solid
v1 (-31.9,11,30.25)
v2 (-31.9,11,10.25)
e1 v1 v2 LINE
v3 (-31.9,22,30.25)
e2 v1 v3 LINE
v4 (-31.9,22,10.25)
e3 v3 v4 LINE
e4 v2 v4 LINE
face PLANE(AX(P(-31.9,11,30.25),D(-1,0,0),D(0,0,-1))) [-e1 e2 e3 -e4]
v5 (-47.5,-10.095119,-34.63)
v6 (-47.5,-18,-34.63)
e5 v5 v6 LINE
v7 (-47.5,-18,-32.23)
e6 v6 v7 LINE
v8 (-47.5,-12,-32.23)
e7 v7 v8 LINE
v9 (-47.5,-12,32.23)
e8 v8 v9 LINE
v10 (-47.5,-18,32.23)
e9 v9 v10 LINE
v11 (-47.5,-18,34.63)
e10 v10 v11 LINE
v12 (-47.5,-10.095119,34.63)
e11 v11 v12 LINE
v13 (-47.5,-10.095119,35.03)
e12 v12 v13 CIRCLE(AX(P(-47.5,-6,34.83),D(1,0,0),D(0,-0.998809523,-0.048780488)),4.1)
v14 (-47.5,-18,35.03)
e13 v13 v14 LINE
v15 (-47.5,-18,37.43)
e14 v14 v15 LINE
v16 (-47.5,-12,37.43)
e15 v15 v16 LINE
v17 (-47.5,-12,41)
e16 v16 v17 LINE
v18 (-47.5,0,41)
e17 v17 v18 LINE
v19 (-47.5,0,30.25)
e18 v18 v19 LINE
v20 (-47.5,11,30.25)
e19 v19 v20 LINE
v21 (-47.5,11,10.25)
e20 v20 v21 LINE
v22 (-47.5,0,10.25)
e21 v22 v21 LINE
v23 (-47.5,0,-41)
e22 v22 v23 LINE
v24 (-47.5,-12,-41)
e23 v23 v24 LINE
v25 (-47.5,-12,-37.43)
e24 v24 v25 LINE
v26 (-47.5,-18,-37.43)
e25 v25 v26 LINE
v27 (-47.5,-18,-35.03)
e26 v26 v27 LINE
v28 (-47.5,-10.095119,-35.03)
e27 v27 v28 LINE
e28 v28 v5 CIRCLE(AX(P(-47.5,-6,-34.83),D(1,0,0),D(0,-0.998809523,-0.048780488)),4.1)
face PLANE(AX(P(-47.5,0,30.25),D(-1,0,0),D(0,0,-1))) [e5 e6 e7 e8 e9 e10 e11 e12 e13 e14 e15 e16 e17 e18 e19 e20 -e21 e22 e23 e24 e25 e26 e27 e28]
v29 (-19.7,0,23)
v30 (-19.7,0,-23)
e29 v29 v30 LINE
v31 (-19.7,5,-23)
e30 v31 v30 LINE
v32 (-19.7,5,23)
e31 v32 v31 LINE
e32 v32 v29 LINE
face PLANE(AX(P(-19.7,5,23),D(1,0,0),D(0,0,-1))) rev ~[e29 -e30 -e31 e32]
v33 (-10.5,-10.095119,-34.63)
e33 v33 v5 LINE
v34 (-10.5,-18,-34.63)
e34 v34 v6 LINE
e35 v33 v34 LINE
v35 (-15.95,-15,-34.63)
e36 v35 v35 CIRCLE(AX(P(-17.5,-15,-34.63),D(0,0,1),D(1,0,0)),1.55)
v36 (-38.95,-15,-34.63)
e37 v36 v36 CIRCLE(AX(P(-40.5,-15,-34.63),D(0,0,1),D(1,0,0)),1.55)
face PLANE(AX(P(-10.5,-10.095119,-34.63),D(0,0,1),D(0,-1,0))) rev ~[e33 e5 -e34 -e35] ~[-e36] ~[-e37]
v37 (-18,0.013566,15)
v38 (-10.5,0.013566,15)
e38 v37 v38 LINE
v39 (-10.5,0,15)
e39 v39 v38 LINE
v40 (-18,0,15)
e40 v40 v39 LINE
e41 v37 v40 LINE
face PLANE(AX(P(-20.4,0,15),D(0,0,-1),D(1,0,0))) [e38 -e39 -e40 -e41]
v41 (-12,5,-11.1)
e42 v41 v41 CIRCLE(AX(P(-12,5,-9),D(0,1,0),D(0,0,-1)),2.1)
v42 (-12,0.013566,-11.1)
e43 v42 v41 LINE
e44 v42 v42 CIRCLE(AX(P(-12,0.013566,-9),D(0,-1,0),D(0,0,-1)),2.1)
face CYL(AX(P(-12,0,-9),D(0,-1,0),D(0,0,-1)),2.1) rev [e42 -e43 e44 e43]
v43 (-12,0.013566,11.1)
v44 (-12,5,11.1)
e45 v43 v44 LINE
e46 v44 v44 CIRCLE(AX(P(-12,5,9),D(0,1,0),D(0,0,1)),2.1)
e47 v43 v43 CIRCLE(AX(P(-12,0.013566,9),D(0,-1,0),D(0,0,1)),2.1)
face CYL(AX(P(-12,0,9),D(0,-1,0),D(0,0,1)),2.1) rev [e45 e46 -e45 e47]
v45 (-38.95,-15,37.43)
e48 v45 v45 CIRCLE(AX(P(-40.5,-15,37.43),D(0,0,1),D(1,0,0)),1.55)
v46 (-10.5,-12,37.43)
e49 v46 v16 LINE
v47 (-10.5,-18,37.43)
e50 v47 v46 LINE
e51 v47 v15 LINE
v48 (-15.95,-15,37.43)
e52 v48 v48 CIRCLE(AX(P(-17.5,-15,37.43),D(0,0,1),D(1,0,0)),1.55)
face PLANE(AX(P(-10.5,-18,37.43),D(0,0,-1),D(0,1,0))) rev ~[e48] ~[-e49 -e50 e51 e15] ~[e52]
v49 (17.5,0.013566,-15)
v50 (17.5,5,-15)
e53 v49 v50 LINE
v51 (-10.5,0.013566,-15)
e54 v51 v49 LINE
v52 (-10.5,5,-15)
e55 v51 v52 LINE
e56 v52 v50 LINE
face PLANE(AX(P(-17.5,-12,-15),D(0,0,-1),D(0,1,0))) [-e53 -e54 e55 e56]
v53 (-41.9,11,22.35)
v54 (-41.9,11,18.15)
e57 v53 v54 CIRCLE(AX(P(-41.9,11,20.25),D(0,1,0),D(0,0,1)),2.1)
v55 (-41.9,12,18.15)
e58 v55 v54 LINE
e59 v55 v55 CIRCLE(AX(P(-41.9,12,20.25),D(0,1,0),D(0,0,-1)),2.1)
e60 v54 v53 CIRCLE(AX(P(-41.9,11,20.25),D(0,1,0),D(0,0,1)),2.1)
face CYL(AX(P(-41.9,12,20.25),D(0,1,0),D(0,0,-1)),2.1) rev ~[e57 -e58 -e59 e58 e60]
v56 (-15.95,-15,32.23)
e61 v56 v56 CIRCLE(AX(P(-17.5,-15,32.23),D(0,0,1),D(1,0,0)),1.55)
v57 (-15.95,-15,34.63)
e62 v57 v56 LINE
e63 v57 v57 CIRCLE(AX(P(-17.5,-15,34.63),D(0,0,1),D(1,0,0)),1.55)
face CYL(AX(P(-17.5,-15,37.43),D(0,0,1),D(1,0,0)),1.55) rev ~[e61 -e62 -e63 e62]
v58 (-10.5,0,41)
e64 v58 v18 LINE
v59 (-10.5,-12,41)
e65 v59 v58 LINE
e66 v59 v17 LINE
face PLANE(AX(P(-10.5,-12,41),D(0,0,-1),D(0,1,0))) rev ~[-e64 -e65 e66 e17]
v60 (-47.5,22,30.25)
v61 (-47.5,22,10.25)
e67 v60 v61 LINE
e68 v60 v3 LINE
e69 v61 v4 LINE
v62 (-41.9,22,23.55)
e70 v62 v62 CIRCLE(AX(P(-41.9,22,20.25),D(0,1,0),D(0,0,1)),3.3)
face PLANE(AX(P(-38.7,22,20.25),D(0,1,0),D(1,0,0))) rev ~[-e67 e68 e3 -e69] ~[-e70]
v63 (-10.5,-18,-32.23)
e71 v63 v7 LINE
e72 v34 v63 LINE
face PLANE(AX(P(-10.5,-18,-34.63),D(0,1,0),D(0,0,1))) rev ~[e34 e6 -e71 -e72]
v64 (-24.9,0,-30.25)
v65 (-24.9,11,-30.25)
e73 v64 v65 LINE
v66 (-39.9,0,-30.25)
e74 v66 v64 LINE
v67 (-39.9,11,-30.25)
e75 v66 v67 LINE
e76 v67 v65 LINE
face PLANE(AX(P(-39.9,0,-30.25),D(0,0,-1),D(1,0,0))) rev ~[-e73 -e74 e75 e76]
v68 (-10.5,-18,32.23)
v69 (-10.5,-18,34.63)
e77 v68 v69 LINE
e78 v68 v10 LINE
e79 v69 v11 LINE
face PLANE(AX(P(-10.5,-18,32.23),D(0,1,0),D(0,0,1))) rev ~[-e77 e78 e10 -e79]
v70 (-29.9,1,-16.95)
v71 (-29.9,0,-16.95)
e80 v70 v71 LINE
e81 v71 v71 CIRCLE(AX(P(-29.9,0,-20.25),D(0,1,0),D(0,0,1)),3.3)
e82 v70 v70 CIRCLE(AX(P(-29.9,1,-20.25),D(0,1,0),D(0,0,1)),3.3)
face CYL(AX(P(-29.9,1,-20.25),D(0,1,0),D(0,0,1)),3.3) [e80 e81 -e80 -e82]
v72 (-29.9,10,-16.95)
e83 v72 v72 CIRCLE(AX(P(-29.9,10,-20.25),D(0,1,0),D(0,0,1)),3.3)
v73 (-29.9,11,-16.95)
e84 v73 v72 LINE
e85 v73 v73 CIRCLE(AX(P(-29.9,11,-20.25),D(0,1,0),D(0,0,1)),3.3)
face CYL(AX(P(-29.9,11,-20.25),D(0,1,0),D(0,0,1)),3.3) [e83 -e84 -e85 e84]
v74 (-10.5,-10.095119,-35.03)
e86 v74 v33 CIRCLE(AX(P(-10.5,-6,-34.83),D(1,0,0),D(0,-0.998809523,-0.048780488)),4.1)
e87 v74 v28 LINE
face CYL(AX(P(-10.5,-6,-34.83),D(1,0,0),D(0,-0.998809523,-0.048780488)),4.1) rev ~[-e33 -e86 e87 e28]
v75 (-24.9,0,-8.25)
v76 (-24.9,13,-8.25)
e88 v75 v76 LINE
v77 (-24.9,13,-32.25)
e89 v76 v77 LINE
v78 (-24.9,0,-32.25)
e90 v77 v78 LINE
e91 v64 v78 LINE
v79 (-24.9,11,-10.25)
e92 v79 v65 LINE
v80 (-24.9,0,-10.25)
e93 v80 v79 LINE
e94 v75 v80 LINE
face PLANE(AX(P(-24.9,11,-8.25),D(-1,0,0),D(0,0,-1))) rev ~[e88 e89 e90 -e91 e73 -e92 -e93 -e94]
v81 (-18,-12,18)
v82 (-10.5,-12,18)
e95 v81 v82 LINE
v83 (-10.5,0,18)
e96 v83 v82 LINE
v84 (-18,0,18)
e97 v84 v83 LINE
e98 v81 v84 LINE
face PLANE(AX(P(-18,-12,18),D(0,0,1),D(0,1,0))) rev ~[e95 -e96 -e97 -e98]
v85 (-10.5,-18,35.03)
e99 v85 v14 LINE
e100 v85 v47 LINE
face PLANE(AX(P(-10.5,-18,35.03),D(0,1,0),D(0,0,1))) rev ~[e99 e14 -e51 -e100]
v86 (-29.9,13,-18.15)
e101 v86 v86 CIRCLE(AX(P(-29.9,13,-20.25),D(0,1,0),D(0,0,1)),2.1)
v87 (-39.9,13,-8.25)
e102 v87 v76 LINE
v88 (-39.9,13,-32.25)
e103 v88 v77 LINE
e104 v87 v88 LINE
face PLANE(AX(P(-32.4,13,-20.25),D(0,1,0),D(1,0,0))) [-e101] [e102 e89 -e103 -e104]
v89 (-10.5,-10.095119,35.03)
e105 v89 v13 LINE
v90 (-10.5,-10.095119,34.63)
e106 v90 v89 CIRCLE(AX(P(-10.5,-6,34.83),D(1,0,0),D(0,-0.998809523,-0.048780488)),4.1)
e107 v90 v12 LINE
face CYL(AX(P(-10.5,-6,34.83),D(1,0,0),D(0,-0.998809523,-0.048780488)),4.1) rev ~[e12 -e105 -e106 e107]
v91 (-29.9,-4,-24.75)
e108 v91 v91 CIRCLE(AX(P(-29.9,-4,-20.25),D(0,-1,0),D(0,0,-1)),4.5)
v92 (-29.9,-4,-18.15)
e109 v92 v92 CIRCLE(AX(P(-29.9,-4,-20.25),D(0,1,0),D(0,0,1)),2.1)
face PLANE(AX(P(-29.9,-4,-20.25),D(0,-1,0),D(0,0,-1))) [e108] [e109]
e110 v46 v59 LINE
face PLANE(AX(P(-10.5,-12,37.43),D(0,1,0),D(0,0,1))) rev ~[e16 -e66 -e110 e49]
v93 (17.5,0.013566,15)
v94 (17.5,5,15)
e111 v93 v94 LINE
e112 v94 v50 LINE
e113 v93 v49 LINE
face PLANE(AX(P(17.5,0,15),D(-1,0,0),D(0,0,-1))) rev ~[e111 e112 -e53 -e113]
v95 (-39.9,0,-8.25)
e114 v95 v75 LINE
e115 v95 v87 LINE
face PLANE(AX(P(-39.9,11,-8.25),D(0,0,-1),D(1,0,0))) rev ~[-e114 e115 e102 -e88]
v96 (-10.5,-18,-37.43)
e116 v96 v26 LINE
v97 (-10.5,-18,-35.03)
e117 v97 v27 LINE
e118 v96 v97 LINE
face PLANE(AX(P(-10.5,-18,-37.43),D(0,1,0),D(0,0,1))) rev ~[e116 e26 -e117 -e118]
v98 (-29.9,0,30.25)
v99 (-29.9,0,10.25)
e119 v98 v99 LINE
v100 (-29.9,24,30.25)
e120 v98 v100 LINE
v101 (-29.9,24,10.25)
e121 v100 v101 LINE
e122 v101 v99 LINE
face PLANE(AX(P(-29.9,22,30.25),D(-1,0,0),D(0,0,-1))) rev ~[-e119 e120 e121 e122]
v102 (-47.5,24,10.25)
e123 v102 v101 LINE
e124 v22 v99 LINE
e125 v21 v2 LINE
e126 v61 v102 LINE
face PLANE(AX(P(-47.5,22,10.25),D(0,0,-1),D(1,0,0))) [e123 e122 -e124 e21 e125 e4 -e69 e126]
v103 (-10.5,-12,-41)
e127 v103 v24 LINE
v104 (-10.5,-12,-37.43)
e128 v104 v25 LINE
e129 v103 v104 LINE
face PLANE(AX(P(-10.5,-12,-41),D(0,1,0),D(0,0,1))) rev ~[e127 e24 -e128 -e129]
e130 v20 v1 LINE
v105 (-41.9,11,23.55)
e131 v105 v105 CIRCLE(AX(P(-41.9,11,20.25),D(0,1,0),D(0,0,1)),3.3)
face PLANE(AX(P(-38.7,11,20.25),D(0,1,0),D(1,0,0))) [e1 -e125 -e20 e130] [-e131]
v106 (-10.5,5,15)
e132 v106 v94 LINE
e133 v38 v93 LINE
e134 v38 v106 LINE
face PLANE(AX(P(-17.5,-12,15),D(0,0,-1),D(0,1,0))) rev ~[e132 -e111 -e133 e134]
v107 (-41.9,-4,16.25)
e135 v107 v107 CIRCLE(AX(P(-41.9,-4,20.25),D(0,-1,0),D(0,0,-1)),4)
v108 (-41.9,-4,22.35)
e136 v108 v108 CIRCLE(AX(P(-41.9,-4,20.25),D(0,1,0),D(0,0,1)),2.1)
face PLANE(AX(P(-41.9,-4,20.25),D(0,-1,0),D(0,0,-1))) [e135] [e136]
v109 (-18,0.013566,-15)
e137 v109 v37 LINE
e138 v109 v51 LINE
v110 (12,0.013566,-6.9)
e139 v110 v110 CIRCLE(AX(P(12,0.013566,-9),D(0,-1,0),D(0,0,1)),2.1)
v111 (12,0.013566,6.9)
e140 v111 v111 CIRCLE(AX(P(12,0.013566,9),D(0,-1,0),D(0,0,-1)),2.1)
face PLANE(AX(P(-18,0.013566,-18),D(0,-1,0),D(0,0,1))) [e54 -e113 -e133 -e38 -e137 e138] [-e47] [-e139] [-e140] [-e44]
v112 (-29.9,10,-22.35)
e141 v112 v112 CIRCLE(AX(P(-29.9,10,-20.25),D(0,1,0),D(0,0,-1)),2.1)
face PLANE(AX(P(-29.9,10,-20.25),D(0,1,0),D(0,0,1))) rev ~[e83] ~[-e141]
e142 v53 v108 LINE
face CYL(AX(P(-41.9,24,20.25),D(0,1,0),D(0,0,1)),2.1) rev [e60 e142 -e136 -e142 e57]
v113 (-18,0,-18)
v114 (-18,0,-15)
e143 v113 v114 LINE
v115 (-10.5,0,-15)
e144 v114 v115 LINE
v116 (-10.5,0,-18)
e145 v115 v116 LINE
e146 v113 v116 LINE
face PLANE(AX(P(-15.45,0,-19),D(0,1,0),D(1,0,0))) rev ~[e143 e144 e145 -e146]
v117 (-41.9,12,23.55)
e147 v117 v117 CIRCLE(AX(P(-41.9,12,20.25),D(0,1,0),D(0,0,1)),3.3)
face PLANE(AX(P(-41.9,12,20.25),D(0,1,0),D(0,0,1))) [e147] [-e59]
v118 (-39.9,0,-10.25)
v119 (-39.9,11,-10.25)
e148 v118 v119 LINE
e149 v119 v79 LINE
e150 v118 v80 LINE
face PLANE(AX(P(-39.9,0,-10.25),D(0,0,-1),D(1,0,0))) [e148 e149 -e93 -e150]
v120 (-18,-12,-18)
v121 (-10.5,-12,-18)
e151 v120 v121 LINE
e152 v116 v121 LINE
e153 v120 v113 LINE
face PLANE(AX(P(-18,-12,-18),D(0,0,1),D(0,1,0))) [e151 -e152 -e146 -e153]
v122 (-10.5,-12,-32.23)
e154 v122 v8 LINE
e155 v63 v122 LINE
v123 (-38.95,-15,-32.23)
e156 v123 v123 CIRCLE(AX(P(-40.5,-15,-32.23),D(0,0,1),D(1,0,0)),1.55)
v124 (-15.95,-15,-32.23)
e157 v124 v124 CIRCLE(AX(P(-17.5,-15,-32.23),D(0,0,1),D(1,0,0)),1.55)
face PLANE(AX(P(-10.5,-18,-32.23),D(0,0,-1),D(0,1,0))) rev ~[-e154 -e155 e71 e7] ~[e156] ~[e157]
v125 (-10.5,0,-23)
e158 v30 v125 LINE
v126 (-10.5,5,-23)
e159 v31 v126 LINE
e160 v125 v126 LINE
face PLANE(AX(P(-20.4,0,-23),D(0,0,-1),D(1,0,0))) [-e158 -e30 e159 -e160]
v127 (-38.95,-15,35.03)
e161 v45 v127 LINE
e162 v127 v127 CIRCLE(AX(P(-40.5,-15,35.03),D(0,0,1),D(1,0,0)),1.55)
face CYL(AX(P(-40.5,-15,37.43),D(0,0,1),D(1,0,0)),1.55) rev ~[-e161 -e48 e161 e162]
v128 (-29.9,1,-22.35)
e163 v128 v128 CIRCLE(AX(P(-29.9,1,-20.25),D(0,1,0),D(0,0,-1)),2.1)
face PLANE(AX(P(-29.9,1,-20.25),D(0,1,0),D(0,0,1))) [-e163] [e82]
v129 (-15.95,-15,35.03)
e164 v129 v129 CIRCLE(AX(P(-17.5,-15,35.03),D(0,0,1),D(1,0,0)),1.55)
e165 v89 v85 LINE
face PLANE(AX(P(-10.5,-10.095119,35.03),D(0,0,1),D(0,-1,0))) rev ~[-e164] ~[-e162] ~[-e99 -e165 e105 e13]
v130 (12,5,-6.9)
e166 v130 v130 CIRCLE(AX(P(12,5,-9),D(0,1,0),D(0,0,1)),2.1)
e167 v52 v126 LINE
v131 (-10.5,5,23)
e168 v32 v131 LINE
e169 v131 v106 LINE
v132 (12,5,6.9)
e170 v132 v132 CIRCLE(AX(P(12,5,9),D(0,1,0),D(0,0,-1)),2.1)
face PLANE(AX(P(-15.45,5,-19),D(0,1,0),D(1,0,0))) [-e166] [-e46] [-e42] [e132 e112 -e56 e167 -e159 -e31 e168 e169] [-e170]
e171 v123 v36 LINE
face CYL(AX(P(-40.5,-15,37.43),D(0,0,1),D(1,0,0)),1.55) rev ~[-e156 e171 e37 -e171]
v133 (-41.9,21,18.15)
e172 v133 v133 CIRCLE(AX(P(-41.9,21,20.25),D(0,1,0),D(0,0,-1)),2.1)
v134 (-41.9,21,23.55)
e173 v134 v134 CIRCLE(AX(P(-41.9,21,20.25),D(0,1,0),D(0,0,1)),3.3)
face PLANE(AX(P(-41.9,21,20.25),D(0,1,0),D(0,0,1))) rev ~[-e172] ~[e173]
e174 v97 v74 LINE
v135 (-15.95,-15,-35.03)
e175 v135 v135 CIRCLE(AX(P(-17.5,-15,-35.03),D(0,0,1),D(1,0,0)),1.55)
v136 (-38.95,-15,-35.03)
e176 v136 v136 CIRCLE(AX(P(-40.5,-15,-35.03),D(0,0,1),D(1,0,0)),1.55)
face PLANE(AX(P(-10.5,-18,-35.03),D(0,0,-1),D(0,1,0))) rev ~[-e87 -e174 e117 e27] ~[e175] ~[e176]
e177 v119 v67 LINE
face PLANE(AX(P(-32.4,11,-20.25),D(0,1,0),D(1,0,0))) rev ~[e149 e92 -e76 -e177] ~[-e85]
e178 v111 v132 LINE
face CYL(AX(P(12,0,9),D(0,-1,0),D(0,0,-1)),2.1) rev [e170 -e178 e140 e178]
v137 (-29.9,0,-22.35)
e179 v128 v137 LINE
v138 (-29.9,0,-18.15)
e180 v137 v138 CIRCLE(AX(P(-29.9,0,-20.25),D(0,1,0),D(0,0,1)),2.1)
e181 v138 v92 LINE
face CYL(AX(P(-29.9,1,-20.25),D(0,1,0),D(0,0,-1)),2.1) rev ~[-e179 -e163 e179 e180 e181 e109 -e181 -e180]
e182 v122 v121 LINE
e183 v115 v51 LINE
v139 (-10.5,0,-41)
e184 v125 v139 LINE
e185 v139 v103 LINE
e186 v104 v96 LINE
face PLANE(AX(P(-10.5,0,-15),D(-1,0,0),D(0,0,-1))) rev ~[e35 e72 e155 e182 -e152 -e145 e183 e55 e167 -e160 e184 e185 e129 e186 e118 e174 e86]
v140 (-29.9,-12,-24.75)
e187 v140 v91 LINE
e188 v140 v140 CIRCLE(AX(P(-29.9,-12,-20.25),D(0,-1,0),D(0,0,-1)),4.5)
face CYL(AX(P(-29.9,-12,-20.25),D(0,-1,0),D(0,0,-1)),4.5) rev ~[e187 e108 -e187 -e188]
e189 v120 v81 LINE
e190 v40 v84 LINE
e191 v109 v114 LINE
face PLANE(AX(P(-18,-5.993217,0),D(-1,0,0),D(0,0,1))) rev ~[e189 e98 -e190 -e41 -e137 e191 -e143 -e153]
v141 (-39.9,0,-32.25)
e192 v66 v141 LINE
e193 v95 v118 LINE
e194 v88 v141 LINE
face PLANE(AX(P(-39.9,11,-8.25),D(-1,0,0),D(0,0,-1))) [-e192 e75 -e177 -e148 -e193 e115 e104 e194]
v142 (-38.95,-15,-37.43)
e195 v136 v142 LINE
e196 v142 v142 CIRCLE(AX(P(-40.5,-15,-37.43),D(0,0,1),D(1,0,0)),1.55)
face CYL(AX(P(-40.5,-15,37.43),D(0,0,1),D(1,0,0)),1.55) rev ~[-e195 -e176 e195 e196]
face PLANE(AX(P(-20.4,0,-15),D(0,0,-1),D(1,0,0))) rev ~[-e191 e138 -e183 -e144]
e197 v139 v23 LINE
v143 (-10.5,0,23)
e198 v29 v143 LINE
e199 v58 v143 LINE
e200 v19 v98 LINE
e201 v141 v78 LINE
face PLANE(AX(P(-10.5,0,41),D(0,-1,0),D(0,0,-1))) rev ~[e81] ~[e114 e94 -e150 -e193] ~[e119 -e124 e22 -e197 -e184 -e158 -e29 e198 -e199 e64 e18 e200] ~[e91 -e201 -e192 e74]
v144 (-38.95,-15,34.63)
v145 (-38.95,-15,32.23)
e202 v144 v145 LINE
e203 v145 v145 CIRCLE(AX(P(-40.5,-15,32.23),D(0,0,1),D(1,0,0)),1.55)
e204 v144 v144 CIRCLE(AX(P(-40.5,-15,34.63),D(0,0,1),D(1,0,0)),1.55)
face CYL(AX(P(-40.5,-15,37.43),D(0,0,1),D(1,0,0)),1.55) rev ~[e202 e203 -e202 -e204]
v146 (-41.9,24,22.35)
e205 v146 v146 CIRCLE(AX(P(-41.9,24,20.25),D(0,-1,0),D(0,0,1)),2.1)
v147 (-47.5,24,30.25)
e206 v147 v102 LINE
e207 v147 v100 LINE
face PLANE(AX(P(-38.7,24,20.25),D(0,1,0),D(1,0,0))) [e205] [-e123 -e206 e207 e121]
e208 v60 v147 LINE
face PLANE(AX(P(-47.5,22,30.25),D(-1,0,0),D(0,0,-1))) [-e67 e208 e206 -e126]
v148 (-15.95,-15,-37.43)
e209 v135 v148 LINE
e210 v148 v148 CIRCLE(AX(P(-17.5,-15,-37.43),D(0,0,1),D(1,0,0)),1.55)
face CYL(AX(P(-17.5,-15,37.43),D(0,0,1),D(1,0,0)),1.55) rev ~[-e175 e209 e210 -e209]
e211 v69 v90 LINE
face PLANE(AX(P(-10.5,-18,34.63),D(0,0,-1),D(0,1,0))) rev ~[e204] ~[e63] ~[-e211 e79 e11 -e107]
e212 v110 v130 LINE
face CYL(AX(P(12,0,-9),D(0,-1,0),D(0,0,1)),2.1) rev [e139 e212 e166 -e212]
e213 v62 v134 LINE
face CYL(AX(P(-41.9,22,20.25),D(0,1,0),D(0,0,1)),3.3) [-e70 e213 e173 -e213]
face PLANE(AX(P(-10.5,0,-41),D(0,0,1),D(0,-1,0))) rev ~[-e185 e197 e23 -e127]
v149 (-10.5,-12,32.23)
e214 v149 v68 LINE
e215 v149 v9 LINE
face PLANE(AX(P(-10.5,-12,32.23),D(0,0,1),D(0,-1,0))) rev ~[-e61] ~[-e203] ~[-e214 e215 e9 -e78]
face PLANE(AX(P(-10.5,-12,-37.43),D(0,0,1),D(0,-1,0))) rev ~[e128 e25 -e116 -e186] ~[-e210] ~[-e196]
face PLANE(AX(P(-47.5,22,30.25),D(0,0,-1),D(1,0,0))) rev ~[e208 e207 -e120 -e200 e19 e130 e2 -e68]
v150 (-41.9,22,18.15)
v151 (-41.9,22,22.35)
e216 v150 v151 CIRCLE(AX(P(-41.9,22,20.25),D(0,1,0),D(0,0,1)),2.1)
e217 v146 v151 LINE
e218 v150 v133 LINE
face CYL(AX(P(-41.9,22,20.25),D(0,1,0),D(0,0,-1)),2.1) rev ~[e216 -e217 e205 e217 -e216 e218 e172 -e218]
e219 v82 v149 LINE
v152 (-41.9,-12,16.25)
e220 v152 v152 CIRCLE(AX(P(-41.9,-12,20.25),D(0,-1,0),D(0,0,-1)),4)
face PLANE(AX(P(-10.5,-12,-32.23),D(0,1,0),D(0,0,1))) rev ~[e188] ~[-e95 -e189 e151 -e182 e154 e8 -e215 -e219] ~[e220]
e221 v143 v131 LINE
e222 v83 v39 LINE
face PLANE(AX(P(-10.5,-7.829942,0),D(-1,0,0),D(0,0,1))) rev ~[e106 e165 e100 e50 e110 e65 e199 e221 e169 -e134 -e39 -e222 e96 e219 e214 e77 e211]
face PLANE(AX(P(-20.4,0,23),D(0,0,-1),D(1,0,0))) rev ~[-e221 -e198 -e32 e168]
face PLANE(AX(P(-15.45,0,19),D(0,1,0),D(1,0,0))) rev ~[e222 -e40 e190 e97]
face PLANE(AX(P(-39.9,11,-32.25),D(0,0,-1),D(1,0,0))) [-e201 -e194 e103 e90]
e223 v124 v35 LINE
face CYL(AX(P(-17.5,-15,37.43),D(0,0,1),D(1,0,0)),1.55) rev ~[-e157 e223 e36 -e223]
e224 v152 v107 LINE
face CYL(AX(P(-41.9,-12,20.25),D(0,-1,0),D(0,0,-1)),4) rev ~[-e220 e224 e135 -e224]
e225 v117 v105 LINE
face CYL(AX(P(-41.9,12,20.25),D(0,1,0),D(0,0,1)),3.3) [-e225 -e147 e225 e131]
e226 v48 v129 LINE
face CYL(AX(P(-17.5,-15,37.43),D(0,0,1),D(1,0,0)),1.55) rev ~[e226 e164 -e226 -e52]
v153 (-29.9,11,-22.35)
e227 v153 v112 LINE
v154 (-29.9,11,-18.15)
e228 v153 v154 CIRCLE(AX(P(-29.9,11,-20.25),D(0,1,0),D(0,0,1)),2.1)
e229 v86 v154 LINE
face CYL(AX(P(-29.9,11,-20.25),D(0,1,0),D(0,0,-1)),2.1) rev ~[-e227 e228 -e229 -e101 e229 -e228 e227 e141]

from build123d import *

# Parameters (mm, degrees)
SKETCH1_W            = 35
SKETCH1_H            = 30
SKETCH1_R            = 2.1
BOSS_EXTRUDE1_DEPTH  = 5
SKETCH2_W            = 30
SKETCH2_H            = 17
BOSS_EXTRUDE2_DEPTH  = 5
BOSS_EXTRUDE3_START  = -28
BOSS_EXTRUDE3_DEPTH  = 37
CUT_EXTRUDE1_REACH   = 66.542
CUT_EXTRUDE1_START   = -4.5
SKETCH5_W            = 36
SKETCH5_H            = 12.013565991
SKETCH6_W            = 2.1
SKETCH6_H            = 35.25
CUT_EXTRUDE2_DEPTH   = 5
SKETCH9_W            = 9.9
SKETCH9_H            = 8
BOSS_EXTRUDE5_DEPTH  = 5
SKETCH10_W           = 0.7
SKETCH10_H           = 46
CUT_EXTRUDE4_DEPTH   = 5
CUT_EXTRUDE5_REACH   = 68.83
SKETCH7_R            = 2.1
SKETCH11_W           = 17.6
SKETCH11_H           = 20
SKETCH11_W_2         = 15
SKETCH11_H_2         = 2
BOSS_EXTRUDE6_DEPTH  = 11
SKETCH12_W           = 15
SKETCH12_H           = 24
BOSS_EXTRUDE8_DEPTH  = 2
SKETCH13_W           = 2
SKETCH13_H           = 20
BOSS_EXTRUDE9_DEPTH  = 11
SKETCH14_W           = 17.6
SKETCH14_H           = 20
BOSS_EXTRUDE10_DEPTH = 2
CUT_EXTRUDE6_START   = -36
SKETCH15_R           = 2.1
CUT_EXTRUDE6_DEPTH   = 36
SKETCH16_R           = 4
SKETCH16_R_2         = 4.5
CUT_EXTRUDE7_DEPTH   = 8
BOSS_EXTRUDE11_START = -2
SKETCH17_R           = 3.3
SKETCH17_R_2         = 2.1
BOSS_EXTRUDE11_DEPTH = 1
BOSS_EXTRUDE12_START = -12
SKETCH17_2_R         = 3.3
SKETCH17_2_R_2       = 2.1
BOSS_EXTRUDE12_DEPTH = 1
BOSS_EXTRUDE13_START = -2
SKETCH18_R           = 3.3
SKETCH18_R_2         = 2.1
BOSS_EXTRUDE13_DEPTH = 1
BOSS_EXTRUDE14_START = -12
SKETCH18_2_R         = 3.3
SKETCH18_2_R_2       = 2.1
BOSS_EXTRUDE14_DEPTH = 1
SKETCH19_R           = 1.55
CUT_EXTRUDE8_DEPTH   = 95.781405877


with BuildPart() as part:
    # Sketch1 → Boss-Extrude1 (new body)
    with BuildSketch(Plane(origin=(0, 0, 0), x_dir=(1, 0, 0), z_dir=(0, 1, 0))):
        Rectangle(SKETCH1_W, SKETCH1_H)
        with Locations(Location((12, 9, 0), (0, 0, 270))):
            Circle(SKETCH1_R, mode=Mode.SUBTRACT)
        with Locations(Location((12, -9, 0), (0, 0, 90))):
            Circle(SKETCH1_R, mode=Mode.SUBTRACT)
        with Locations(Location((-12, -9, 0), (0, 0, 270))):
            Circle(SKETCH1_R, mode=Mode.SUBTRACT)
        with Locations(Location((-12, 9, 0), (0, 0, 90))):
            Circle(SKETCH1_R, mode=Mode.SUBTRACT)
    extrude(amount=BOSS_EXTRUDE1_DEPTH)

    # Sketch2 → Boss-Extrude2 (add)
    with BuildSketch(Plane.ZY.offset(17.5)):
        with Locations((0, -3.5)):
            Rectangle(SKETCH2_W, SKETCH2_H)
    extrude(amount=BOSS_EXTRUDE2_DEPTH)

    # Sketch3 → Boss-Extrude3 (add)
    with BuildSketch(Plane(origin=(17.5, 0, 0), x_dir=(0, 0, -1), z_dir=(1, 0, 0)).offset(BOSS_EXTRUDE3_START)):
        with BuildLine():
            Line((-41, 0), (41, 0))
            Line((41, 0), (41, -12))
            Line((41, -12), (37.43, -12))
            Line((37.43, -12), (37.43, -18))
            Line((37.43, -18), (35.03, -18))
            Line((35.03, -18), (35.03, -12))
            Line((35.03, -12), (35.03, -10.095119046))
            ThreePointArc((35.03, -10.095119046), (34.83, -1.9), (34.63, -10.095119046))
            Line((34.63, -10.095119046), (34.63, -12))
            Line((34.63, -12), (34.63, -18))
            Line((34.63, -18), (32.23, -18))
            Line((32.23, -18), (32.23, -12))
            Line((32.23, -12), (-32.23, -12))
            Line((-32.23, -12), (-32.23, -18))
            Line((-32.23, -18), (-34.63, -18))
            Line((-34.63, -18), (-34.63, -12))
            Line((-34.63, -12), (-34.63, -10.095119046))
            ThreePointArc((-34.63, -10.095119046), (-34.83, -1.9), (-35.03, -10.095119046))
            Line((-35.03, -10.095119046), (-35.03, -12))
            Line((-35.03, -12), (-35.03, -18))
            Line((-35.03, -18), (-37.43, -18))
            Line((-37.43, -18), (-37.43, -12))
            Line((-37.43, -12), (-41, -12))
            Line((-41, -12), (-41, 0))
        make_face()
    extrude(amount=-BOSS_EXTRUDE3_DEPTH)

    # Sketch5 → Cut-Extrude1 (cut, up to next)
    with BuildSketch(Plane.ZY.offset(22.5).offset(CUT_EXTRUDE1_START), mode=Mode.PRIVATE) as cut_extrude1_sk1:
        with Locations((0, -5.993217004)):
            Rectangle(SKETCH5_W, SKETCH5_H)
    cut_extrude1_tool1 = extrude(cut_extrude1_sk1.sketch, amount=-CUT_EXTRUDE1_REACH, mode=Mode.PRIVATE) & part.part
    add(cut_extrude1_tool1.solids().sort_by_distance((-18, -5.993217, 0))[0], mode=Mode.SUBTRACT)

    # Sketch6 → Cut-Extrude2 (cut)
    with BuildSketch(Plane(origin=(0, 5, 0), x_dir=(1, 0, 0), z_dir=(0, 1, 0))):
        with Locations((-21.45, -2.625)):
            Rectangle(SKETCH6_W, SKETCH6_H)
    extrude(amount=-CUT_EXTRUDE2_DEPTH, mode=Mode.SUBTRACT)

    # Sketch9 → Boss-Extrude5 (add)
    with BuildSketch(Plane(origin=(0, 0, 0), x_dir=(1, 0, 0), z_dir=(0, 1, 0))):
        with Locations((-15.45, 19)):
            Rectangle(SKETCH9_W, SKETCH9_H)
        with Locations((-15.45, -19)):
            Rectangle(SKETCH9_W, SKETCH9_H)
    extrude(amount=BOSS_EXTRUDE5_DEPTH)

    # Sketch10 → Cut-Extrude4 (cut)
    with BuildSketch(Plane(origin=(0, 5, 0), x_dir=(1, 0, 0), z_dir=(0, 1, 0))):
        with Locations((-20.05, 0)):
            Rectangle(SKETCH10_W, SKETCH10_H)
    extrude(amount=-CUT_EXTRUDE4_DEPTH, mode=Mode.SUBTRACT)

    # Sketch7 → Cut-Extrude5 (cut, up to next)
    with BuildSketch(Plane(origin=(0, 5, 0), x_dir=(1, 0, 0), z_dir=(0, 1, 0)), mode=Mode.PRIVATE) as cut_extrude5_sk1:
        with Locations(Location((-41.9, -20.25, 0), (0, 0, 270))):
            Circle(SKETCH7_R)
    cut_extrude5_tool1 = extrude(cut_extrude5_sk1.sketch, amount=-CUT_EXTRUDE5_REACH, mode=Mode.PRIVATE) & part.part
    # Sketch7 → Cut-Extrude5 (cut, up to next)
    with BuildSketch(Plane(origin=(0, 5, 0), x_dir=(1, 0, 0), z_dir=(0, 1, 0)), mode=Mode.PRIVATE) as cut_extrude5_sk2:
        with Locations(Location((-29.9, 20.25, 0), (0, 0, 270))):
            Circle(SKETCH7_R)
    cut_extrude5_tool2 = extrude(cut_extrude5_sk2.sketch, amount=-CUT_EXTRUDE5_REACH, mode=Mode.PRIVATE) & part.part
    add(cut_extrude5_tool1.solids().sort_by_distance((-41.9, 5, 20.25))[0], mode=Mode.SUBTRACT)
    add(cut_extrude5_tool2.solids().sort_by_distance((-29.9, 5, -20.25))[0], mode=Mode.SUBTRACT)

    # Sketch11 → Boss-Extrude6 (add)
    with BuildSketch(Plane(origin=(0, 0, 0), x_dir=(1, 0, 0), z_dir=(0, 1, 0))):
        with Locations((-38.7, -20.25)):
            Rectangle(SKETCH11_W, SKETCH11_H)
        with Locations((-32.4, 31.25)):
            Rectangle(SKETCH11_W_2, SKETCH11_H_2)
        with Locations((-32.4, 9.25)):
            Rectangle(SKETCH11_W_2, SKETCH11_H_2)
    extrude(amount=BOSS_EXTRUDE6_DEPTH)

    # Sketch12 → Boss-Extrude8 (add)
    with BuildSketch(Plane(origin=(0, 11, 0), x_dir=(1, 0, 0), z_dir=(0, 1, 0))):
        with Locations((-32.4, 20.25)):
            Rectangle(SKETCH12_W, SKETCH12_H)
    extrude(amount=BOSS_EXTRUDE8_DEPTH)

    # Sketch13 → Boss-Extrude9 (add)
    with BuildSketch(Plane(origin=(0, 11, 0), x_dir=(1, 0, 0), z_dir=(0, 1, 0))):
        with Locations((-30.9, -20.25)):
            Rectangle(SKETCH13_W, SKETCH13_H)
    extrude(amount=BOSS_EXTRUDE9_DEPTH)

    # Sketch14 → Boss-Extrude10 (add)
    with BuildSketch(Plane(origin=(0, 22, 0), x_dir=(1, 0, 0), z_dir=(0, 1, 0))):
        with Locations((-38.7, -20.25)):
            Rectangle(SKETCH14_W, SKETCH14_H)
    extrude(amount=BOSS_EXTRUDE10_DEPTH)

    # Sketch15 → Cut-Extrude6 (cut)
    with BuildSketch(Plane.XZ.offset(12).offset(CUT_EXTRUDE6_START)):
        with Locations(Location((-29.9, -20.25, 0), (0, 0, 90))):
            Circle(SKETCH15_R)
        with Locations(Location((-41.9, 20.25, 0), (0, 0, 90))):
            Circle(SKETCH15_R)
    extrude(amount=CUT_EXTRUDE6_DEPTH, mode=Mode.SUBTRACT)

    # Sketch16 → Cut-Extrude7 (cut)
    with BuildSketch(Plane.XZ.offset(12)):
        with Locations(Location((-41.9, 20.25, 0), (0, 0, 270))):
            Circle(SKETCH16_R)
        with Locations(Location((-29.9, -20.25, 0), (0, 0, 270))):
            Circle(SKETCH16_R_2)
    extrude(amount=-CUT_EXTRUDE7_DEPTH, mode=Mode.SUBTRACT)

    # Sketch17 → Boss-Extrude11 (add)
    with BuildSketch(Plane(origin=(0, 24, 0), x_dir=(1, 0, 0), z_dir=(0, 1, 0)).offset(BOSS_EXTRUDE11_START)):
        with Locations(Location((-41.9, -20.25, 0), (0, 0, 270))):
            Circle(SKETCH17_R)
        with Locations(Location((-41.9, -20.25, 0), (0, 0, 90))):
            Circle(SKETCH17_R_2, mode=Mode.SUBTRACT)
    extrude(amount=-BOSS_EXTRUDE11_DEPTH)

    # Sketch17<2> → Boss-Extrude12 (add)
    with BuildSketch(Plane(origin=(0, 24, 0), x_dir=(1, 0, 0), z_dir=(0, 1, 0)).offset(BOSS_EXTRUDE12_START)):
        with Locations(Location((-41.9, -20.25, 0), (0, 0, 270))):
            Circle(SKETCH17_2_R)
        with Locations(Location((-41.9, -20.25, 0), (0, 0, 90))):
            Circle(SKETCH17_2_R_2, mode=Mode.SUBTRACT)
    extrude(amount=-BOSS_EXTRUDE12_DEPTH)

    # Sketch18 → Boss-Extrude13 (add)
    with BuildSketch(Plane(origin=(0, 13, 0), x_dir=(1, 0, 0), z_dir=(0, 1, 0)).offset(BOSS_EXTRUDE13_START)):
        with Locations(Location((-29.9, 20.25, 0), (0, 0, 270))):
            Circle(SKETCH18_R)
        with Locations(Location((-29.9, 20.25, 0), (0, 0, 90))):
            Circle(SKETCH18_R_2, mode=Mode.SUBTRACT)
    extrude(amount=-BOSS_EXTRUDE13_DEPTH)

    # Sketch18<2> → Boss-Extrude14 (add)
    with BuildSketch(Plane(origin=(0, 13, 0), x_dir=(1, 0, 0), z_dir=(0, 1, 0)).offset(BOSS_EXTRUDE14_START)):
        with Locations(Location((-29.9, 20.25, 0), (0, 0, 270))):
            Circle(SKETCH18_2_R)
        with Locations(Location((-29.9, 20.25, 0), (0, 0, 90))):
            Circle(SKETCH18_2_R_2, mode=Mode.SUBTRACT)
    extrude(amount=-BOSS_EXTRUDE14_DEPTH)

    # Sketch19 → Cut-Extrude8 (cut, through all)
    with BuildSketch(Plane.XY.offset(37.43)):
        with Locations((-40.5, -15)):
            Circle(SKETCH19_R)
        with Locations((-17.5, -15)):
            Circle(SKETCH19_R)
    extrude(amount=-CUT_EXTRUDE8_DEPTH, mode=Mode.SUBTRACT)


solid = part.part
